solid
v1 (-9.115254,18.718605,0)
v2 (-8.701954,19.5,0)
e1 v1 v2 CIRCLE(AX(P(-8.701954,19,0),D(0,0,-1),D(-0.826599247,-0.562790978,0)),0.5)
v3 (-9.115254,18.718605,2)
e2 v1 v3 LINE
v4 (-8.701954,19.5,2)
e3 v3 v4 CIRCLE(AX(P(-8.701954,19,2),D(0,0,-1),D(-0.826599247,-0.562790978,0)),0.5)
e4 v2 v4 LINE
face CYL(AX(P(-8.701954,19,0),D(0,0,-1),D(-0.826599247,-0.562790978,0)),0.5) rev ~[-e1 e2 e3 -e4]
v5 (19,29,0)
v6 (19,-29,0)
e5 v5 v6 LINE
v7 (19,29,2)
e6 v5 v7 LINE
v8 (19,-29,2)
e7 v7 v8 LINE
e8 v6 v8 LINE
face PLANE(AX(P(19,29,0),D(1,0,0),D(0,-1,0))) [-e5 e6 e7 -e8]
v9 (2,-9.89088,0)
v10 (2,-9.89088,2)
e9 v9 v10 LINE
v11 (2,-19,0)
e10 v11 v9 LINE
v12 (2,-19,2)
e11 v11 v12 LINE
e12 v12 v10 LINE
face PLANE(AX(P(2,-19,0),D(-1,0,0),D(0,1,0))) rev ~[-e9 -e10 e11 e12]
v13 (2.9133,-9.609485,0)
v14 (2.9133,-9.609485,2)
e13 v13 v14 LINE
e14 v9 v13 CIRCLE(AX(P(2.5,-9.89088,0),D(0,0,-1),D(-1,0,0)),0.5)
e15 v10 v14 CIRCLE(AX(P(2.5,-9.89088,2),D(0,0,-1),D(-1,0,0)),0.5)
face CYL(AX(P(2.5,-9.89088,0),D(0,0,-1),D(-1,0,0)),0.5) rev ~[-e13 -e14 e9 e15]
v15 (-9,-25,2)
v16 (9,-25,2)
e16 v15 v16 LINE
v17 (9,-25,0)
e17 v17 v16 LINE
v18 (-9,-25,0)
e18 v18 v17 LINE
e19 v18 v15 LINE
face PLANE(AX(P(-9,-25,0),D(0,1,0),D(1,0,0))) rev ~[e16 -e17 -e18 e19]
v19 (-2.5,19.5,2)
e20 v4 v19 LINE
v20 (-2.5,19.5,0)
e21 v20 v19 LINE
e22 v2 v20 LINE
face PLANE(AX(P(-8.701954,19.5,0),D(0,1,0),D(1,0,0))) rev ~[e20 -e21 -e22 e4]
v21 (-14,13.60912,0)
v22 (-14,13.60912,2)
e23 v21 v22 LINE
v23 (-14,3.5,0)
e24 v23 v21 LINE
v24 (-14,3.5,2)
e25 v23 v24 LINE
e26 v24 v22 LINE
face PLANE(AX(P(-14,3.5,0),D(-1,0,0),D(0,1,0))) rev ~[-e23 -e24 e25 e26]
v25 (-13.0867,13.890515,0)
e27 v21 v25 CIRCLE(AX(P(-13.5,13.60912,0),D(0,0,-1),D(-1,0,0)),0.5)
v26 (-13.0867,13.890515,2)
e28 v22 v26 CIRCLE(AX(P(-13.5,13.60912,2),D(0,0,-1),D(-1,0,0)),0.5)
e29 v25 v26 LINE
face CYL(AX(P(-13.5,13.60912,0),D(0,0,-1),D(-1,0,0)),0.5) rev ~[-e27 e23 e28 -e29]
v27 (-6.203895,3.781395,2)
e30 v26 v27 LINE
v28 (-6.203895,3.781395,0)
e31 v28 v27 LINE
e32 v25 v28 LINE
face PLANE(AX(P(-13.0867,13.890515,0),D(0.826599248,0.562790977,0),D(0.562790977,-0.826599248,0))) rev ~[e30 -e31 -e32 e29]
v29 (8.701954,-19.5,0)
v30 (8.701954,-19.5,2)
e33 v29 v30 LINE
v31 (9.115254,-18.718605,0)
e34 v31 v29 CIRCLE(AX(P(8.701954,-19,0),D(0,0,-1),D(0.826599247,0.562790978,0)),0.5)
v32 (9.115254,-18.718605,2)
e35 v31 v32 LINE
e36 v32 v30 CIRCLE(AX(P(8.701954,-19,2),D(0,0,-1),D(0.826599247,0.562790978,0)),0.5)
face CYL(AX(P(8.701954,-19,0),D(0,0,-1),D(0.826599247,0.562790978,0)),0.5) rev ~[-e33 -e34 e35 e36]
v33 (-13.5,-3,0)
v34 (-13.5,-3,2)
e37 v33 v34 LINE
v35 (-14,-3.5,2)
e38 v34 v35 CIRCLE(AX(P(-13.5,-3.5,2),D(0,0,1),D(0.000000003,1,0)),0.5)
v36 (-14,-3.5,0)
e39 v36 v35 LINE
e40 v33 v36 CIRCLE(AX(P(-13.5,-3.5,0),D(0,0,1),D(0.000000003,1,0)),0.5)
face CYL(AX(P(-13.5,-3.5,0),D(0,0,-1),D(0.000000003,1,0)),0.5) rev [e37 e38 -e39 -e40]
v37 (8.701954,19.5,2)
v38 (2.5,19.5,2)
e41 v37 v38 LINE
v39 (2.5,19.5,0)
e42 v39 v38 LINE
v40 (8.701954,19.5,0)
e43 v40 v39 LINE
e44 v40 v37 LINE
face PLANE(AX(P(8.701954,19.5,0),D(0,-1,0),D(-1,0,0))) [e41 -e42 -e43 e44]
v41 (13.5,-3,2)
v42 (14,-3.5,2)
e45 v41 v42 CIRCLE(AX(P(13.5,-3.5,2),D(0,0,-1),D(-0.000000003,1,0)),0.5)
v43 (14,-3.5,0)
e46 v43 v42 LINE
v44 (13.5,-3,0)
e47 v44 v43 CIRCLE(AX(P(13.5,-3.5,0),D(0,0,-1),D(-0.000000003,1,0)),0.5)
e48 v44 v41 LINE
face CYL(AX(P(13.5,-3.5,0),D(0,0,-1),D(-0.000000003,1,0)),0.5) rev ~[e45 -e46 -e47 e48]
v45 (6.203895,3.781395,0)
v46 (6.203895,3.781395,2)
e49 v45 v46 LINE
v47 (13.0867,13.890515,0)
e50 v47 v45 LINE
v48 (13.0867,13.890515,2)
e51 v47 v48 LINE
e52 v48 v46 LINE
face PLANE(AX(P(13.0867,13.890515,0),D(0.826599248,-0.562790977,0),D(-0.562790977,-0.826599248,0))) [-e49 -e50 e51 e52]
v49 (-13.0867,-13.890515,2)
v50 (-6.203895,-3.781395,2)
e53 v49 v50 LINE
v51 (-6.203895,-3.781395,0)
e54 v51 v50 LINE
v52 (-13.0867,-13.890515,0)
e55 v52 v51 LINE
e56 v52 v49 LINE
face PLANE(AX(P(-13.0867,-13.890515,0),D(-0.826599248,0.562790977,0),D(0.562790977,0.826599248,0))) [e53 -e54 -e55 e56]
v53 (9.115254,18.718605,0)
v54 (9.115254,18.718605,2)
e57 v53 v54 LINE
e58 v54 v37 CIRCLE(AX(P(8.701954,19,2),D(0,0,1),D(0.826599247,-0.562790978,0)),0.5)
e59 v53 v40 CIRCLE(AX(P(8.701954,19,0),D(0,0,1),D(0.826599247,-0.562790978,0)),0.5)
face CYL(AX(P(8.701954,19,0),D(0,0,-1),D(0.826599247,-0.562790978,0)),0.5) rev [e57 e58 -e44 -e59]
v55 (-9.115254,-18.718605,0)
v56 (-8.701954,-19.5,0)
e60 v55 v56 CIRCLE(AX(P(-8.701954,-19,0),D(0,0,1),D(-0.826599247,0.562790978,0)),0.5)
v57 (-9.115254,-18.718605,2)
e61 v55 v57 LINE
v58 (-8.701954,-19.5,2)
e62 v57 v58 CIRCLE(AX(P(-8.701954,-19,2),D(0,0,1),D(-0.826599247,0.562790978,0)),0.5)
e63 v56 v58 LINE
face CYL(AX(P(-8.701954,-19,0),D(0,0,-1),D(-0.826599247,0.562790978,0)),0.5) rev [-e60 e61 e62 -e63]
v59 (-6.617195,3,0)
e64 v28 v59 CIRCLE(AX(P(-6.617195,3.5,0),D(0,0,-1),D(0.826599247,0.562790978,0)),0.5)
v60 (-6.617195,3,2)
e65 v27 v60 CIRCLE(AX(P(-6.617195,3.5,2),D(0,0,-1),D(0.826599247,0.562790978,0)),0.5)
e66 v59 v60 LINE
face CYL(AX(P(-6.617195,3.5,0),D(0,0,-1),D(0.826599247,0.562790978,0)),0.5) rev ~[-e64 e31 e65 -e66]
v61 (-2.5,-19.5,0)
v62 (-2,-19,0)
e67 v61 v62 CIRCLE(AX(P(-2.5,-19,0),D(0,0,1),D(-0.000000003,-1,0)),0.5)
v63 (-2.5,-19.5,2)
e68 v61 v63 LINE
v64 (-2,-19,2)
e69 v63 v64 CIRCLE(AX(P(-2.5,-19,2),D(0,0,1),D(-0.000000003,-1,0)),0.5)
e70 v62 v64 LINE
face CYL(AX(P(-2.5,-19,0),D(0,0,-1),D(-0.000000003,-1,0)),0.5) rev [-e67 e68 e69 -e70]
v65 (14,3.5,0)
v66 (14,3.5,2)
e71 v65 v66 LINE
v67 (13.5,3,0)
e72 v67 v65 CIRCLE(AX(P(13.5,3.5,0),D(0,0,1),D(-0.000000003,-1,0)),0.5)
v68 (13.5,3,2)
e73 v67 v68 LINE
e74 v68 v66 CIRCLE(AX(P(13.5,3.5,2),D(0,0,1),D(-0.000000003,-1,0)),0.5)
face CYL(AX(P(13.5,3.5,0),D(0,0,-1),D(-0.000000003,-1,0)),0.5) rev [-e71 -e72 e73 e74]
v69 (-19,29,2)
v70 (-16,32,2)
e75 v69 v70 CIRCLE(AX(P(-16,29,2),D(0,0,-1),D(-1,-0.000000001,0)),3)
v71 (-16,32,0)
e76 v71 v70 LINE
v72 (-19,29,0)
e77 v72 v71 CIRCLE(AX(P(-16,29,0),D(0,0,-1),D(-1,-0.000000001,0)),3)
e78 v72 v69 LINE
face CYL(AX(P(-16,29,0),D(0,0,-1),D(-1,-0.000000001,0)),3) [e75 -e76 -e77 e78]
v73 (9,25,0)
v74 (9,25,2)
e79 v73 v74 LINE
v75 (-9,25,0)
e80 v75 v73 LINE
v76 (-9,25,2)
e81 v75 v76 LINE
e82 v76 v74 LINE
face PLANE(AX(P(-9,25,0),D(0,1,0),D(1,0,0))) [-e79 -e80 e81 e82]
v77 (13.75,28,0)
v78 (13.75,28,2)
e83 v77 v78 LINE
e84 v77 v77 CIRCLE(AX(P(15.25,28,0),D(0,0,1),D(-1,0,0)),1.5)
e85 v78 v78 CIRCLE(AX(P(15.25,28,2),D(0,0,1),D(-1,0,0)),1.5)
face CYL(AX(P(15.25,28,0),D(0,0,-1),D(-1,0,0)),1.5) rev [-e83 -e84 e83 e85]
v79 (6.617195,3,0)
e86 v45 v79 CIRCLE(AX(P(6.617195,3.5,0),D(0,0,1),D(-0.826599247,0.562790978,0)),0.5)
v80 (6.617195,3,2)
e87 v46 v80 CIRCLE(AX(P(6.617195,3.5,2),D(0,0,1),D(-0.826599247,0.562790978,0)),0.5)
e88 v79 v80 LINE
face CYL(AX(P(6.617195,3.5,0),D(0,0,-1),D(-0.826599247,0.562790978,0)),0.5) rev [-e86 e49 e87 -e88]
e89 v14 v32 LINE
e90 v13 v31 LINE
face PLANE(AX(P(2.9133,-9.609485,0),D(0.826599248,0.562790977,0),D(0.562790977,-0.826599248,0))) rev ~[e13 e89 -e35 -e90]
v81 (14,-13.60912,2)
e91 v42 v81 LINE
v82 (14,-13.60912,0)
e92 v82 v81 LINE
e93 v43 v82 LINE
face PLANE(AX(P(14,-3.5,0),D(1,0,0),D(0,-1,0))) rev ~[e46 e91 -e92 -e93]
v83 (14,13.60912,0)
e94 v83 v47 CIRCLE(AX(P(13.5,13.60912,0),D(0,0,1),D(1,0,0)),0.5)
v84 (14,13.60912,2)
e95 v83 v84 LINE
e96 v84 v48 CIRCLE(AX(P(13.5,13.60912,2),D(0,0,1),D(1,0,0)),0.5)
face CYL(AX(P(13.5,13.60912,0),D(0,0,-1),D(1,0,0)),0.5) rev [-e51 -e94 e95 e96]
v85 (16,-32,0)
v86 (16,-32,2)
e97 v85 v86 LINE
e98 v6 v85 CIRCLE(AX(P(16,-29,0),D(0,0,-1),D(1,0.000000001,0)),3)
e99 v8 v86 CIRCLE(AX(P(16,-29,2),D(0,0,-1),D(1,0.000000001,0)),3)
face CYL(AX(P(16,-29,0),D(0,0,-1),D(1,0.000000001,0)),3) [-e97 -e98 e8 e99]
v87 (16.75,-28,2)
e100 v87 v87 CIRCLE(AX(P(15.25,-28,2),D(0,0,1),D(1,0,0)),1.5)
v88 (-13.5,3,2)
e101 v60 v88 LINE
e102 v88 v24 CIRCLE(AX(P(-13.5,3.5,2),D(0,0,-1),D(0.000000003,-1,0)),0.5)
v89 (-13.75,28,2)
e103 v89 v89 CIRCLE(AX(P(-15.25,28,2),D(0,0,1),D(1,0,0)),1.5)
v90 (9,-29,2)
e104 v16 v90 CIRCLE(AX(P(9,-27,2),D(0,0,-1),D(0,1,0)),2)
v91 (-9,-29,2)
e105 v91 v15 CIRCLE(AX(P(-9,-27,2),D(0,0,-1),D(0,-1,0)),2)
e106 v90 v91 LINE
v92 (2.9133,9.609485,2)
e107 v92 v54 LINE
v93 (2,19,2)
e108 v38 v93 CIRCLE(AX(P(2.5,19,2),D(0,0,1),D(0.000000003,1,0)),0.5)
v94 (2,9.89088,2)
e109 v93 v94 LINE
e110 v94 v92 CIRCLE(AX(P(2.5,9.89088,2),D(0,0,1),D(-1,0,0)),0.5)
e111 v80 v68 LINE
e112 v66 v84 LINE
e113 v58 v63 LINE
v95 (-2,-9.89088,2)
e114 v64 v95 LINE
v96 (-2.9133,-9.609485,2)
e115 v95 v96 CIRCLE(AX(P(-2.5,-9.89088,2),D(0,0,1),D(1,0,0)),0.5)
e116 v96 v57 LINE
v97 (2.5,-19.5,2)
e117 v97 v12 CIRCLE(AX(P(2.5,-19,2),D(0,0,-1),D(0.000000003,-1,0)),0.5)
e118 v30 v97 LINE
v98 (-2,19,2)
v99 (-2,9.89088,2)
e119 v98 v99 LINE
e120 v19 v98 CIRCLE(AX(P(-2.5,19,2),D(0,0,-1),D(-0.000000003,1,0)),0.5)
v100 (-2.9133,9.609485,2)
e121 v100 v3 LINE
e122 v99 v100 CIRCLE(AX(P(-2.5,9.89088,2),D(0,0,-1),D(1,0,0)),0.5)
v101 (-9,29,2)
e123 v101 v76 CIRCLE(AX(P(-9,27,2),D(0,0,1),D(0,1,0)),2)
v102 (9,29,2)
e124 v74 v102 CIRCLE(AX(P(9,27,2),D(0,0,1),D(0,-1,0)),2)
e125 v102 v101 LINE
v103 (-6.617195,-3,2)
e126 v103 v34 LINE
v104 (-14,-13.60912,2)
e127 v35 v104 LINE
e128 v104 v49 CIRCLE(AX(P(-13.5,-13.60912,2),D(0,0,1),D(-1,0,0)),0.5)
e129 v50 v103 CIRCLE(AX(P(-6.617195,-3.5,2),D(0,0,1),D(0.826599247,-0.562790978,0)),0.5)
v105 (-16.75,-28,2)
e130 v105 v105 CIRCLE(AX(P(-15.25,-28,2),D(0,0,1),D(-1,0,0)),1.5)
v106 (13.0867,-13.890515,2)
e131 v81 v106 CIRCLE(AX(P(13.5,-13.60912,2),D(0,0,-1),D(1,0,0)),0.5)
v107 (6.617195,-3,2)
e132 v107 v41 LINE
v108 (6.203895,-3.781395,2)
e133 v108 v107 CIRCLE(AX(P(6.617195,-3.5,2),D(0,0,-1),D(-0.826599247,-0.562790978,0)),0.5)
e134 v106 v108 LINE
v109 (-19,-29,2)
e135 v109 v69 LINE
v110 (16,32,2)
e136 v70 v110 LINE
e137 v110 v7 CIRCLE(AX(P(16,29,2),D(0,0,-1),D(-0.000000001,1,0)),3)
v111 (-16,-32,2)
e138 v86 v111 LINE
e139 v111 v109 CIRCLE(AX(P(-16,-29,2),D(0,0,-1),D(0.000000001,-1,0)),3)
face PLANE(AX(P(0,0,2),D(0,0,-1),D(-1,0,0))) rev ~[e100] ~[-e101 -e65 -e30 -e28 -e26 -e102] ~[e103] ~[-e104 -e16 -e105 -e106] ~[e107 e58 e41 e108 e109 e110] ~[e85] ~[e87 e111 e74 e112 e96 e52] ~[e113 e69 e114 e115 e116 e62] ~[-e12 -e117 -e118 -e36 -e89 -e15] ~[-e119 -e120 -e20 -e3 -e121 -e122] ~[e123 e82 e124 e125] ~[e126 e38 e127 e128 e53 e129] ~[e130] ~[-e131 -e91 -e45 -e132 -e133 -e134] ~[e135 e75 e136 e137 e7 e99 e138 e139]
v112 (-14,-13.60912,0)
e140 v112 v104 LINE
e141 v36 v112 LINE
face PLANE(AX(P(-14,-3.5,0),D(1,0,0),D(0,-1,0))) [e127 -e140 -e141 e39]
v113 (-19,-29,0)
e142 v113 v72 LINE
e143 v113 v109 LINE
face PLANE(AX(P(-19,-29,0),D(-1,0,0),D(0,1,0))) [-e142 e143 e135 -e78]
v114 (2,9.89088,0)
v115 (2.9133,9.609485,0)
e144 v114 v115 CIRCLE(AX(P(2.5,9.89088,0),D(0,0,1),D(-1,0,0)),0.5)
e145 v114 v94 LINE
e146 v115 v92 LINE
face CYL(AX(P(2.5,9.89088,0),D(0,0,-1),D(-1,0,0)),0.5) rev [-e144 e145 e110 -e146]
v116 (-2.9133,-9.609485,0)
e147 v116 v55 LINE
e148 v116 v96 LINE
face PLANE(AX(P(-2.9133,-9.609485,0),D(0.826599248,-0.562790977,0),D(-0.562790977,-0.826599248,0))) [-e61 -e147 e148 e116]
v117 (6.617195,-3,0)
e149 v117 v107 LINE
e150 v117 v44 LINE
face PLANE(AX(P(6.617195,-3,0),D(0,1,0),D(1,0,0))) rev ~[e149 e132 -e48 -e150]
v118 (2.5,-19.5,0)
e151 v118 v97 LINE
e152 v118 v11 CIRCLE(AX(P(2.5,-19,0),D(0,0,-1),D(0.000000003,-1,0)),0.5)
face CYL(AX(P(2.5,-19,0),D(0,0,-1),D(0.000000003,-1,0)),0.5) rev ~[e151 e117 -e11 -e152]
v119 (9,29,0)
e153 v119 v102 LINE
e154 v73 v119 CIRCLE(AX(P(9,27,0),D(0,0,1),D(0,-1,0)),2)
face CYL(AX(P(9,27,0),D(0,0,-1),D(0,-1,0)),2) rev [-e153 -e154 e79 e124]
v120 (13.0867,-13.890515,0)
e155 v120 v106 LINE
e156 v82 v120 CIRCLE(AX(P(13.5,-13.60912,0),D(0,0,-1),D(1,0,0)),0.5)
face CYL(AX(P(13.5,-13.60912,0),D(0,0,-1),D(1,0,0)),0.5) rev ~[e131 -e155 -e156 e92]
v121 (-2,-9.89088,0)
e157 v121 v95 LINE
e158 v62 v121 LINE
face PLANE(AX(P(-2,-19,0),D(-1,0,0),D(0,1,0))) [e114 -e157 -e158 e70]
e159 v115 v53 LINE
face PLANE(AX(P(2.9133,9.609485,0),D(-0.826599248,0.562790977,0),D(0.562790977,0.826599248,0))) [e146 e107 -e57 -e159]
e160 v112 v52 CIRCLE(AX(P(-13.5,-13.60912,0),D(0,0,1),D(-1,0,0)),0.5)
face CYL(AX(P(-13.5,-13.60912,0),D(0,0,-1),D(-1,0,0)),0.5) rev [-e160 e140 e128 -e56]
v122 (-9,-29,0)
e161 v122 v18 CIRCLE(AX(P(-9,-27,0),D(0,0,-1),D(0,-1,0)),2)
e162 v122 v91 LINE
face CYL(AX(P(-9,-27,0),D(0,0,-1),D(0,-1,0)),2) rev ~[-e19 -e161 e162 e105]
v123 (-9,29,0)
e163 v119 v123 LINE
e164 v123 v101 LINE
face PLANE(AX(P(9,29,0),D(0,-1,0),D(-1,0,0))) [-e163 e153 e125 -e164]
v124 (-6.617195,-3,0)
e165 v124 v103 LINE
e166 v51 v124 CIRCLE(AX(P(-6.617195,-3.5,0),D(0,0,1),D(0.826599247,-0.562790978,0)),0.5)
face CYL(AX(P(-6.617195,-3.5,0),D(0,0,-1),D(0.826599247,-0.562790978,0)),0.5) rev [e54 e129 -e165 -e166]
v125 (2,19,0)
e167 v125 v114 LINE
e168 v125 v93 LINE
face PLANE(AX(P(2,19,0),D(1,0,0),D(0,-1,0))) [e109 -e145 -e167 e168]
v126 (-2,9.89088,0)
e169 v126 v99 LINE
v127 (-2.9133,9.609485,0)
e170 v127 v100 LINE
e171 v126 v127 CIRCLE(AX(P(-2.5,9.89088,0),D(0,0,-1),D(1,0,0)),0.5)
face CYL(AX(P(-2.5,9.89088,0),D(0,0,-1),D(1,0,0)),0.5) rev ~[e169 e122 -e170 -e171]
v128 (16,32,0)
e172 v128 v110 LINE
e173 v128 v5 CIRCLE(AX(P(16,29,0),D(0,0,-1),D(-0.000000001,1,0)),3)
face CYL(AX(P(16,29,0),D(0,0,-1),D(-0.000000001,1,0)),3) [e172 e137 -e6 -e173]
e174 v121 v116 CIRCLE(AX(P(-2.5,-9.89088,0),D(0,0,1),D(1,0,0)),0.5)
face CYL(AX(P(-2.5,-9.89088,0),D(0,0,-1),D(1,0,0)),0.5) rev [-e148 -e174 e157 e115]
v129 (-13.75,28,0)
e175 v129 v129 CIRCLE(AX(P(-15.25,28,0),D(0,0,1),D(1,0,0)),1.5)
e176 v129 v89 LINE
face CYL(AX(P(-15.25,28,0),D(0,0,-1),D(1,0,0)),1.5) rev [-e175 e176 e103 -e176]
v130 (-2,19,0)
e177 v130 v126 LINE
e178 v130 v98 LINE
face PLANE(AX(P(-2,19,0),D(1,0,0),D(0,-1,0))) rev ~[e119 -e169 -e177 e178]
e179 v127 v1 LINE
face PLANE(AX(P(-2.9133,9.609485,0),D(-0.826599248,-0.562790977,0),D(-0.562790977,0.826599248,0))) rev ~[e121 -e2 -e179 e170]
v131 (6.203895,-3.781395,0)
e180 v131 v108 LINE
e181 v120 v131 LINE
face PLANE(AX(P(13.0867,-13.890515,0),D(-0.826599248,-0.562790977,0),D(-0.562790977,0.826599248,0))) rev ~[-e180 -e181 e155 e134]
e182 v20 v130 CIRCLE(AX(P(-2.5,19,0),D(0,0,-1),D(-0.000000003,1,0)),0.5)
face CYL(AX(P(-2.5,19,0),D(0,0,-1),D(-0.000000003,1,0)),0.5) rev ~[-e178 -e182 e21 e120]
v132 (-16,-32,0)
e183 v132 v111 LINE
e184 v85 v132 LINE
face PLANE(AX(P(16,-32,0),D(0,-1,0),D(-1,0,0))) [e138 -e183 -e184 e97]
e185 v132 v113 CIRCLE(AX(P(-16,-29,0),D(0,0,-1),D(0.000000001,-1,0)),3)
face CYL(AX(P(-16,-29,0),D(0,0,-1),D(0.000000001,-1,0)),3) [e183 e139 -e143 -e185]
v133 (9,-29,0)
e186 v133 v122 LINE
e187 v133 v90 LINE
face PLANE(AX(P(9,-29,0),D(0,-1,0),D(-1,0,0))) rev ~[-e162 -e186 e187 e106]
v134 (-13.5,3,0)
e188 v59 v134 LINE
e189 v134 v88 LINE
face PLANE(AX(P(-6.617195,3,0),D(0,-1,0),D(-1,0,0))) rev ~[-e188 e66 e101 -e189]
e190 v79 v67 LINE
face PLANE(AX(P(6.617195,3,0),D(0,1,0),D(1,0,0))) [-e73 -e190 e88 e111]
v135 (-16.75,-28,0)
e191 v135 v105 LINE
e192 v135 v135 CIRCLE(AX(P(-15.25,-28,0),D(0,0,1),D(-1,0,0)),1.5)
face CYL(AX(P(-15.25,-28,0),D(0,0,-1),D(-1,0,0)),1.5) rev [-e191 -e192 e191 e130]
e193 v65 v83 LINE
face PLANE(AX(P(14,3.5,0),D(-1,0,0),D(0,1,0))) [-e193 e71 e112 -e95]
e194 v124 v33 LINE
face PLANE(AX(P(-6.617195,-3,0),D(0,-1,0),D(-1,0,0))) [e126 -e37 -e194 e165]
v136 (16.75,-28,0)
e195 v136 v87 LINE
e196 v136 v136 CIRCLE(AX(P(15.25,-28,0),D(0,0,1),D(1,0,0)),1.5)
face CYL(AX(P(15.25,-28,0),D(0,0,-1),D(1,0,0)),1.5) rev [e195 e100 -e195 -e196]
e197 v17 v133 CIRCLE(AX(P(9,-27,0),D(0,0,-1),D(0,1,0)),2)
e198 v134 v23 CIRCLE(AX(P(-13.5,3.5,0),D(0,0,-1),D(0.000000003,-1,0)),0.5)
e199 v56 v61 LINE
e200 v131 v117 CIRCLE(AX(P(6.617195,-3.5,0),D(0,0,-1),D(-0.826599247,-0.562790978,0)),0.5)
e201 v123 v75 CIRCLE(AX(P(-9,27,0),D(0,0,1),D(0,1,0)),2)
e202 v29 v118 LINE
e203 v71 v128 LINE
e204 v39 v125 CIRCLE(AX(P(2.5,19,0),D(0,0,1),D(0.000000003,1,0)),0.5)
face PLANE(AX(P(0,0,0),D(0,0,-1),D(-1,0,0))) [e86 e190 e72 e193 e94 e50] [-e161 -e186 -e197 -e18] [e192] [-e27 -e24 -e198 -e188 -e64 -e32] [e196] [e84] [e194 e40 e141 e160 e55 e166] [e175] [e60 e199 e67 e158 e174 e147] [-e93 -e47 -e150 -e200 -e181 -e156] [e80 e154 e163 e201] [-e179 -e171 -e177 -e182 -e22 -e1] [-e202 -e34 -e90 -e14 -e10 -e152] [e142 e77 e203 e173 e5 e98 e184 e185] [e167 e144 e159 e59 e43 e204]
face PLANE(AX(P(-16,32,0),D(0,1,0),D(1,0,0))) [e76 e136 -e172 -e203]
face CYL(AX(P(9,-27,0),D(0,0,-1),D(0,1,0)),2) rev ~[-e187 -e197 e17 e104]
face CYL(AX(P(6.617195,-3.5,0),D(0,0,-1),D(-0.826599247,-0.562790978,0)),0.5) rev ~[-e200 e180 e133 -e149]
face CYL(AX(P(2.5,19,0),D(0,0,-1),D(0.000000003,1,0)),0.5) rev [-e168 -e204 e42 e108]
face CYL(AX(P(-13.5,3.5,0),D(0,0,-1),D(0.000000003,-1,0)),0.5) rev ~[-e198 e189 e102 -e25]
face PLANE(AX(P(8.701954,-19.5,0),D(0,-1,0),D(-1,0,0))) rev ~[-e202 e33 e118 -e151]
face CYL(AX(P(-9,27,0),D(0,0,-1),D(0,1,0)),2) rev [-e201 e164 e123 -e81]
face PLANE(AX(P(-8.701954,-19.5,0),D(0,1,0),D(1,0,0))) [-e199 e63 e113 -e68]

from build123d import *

# Parameters (mm, degrees)
SKETCH_1_R      = 1.5
EXTRUDE_1_DEPTH = 2


with BuildPart() as part:
    # 草图1 → 凸台-拉伸1 (new body)
    with BuildSketch(Plane.XY):
        with BuildLine():
            Line((-16, 32), (16, 32))
            ThreePointArc((16, 32), (18.121320344, 31.121320344), (19, 29))
            Line((19, 29), (19, -29))
            ThreePointArc((19, -29), (18.121320344, -31.121320344), (16, -32))
            Line((16, -32), (-16, -32))
            ThreePointArc((-16, -32), (-18.121320344, -31.121320344), (-19, -29))
            Line((-19, -29), (-19, 29))
            ThreePointArc((-19, 29), (-18.121320344, 31.121320344), (-16, 32))
        make_face()
        with Locations((-15.25, 28)):
            Circle(SKETCH_1_R, mode=Mode.SUBTRACT)
        with Locations(Location((15.25, 28, 0), (0, 0, 180))):
            Circle(SKETCH_1_R, mode=Mode.SUBTRACT)
        with Locations((15.25, -28)):
            Circle(SKETCH_1_R, mode=Mode.SUBTRACT)
        with Locations(Location((-15.25, -28, 0), (0, 0, 180))):
            Circle(SKETCH_1_R, mode=Mode.SUBTRACT)
        with BuildLine():
            Line((-9, -25), (9, -25))
            ThreePointArc((9, -25), (11, -27), (9, -29))
            Line((9, -29), (-9, -29))
            ThreePointArc((-9, -29), (-11, -27), (-9, -25))
        make_face(mode=Mode.SUBTRACT)
        with BuildLine():
            Line((-9, 25), (9, 25))
            ThreePointArc((9, 25), (11, 27), (9, 29))
            Line((9, 29), (-9, 29))
            ThreePointArc((-9, 29), (-11, 27), (-9, 25))
        make_face(mode=Mode.SUBTRACT)
        with BuildLine():
            Line((-6.617195014, 3), (-13.5, 3))
            ThreePointArc((-13.5, 3), (-13.853553391, 3.146446609), (-14, 3.5))
            Line((-14, 3.5), (-14, 13.609119823))
            ThreePointArc((-14, 13.609119823), (-13.647224638, 14.086953378), (-13.086700376, 13.890515312))
            Line((-13.086700376, 13.890515312), (-6.20389539, 3.781395489))
            ThreePointArc((-6.20389539, 3.781395489), (-6.175212127, 3.266224193), (-6.617195014, 3))
        make_face(mode=Mode.SUBTRACT)
        with BuildLine():
            Line((14, 3.5), (14, 13.609119823))
            ThreePointArc((14, 13.609119823), (13.647224638, 14.086953378), (13.086700376, 13.890515312))
            Line((13.086700376, 13.890515312), (6.20389539, 3.781395489))
            ThreePointArc((6.20389539, 3.781395489), (6.175212127, 3.266224193), (6.617195014, 3))
            Line((6.617195014, 3), (13.5, 3))
            ThreePointArc((13.5, 3), (13.853553391, 3.146446609), (14, 3.5))
        make_face(mode=Mode.SUBTRACT)
        with BuildLine():
            Line((6.617195014, -3), (13.5, -3))
            ThreePointArc((13.5, -3), (13.853553391, -3.146446609), (14, -3.5))
            Line((14, -3.5), (14, -13.609119823))
            ThreePointArc((14, -13.609119823), (13.647224638, -14.086953378), (13.086700376, -13.890515312))
            Line((13.086700376, -13.890515312), (6.20389539, -3.781395489))
            ThreePointArc((6.20389539, -3.781395489), (6.175212127, -3.266224193), (6.617195014, -3))
        make_face(mode=Mode.SUBTRACT)
        with BuildLine():
            Line((-14, -3.5), (-14, -13.609119823))
            ThreePointArc((-14, -13.609119823), (-13.647224638, -14.086953378), (-13.086700376, -13.890515312))
            Line((-13.086700376, -13.890515312), (-6.20389539, -3.781395489))
            ThreePointArc((-6.20389539, -3.781395489), (-6.175212127, -3.266224193), (-6.617195014, -3))
            Line((-6.617195014, -3), (-13.5, -3))
            ThreePointArc((-13.5, -3), (-13.853553391, -3.146446609), (-14, -3.5))
        make_face(mode=Mode.SUBTRACT)
        with BuildLine():
            Line((-8.701953922, 19.5), (-2.5, 19.5))
            ThreePointArc((-2.5, 19.5), (-2.146446609, 19.353553391), (-2, 19))
            Line((-2, 19), (-2, 9.890880177))
            ThreePointArc((-2, 9.890880177), (-2.352775362, 9.413046622), (-2.913299624, 9.609484688))
            Line((-2.913299624, 9.609484688), (-9.115253546, 18.718604511))
            ThreePointArc((-9.115253546, 18.718604511), (-9.143936809, 19.233775807), (-8.701953922, 19.5))
        make_face(mode=Mode.SUBTRACT)
        with BuildLine():
            Line((2, 19), (2, 9.890880177))
            ThreePointArc((2, 9.890880177), (2.352775362, 9.413046622), (2.913299624, 9.609484688))
            Line((2.913299624, 9.609484688), (9.115253546, 18.718604511))
            ThreePointArc((9.115253546, 18.718604511), (9.143936809, 19.233775807), (8.701953922, 19.5))
            Line((8.701953922, 19.5), (2.5, 19.5))
            ThreePointArc((2.5, 19.5), (2.146446609, 19.353553391), (2, 19))
        make_face(mode=Mode.SUBTRACT)
        with BuildLine():
            Line((8.701953922, -19.5), (2.5, -19.5))
            ThreePointArc((2.5, -19.5), (2.146446609, -19.353553391), (2, -19))
            Line((2, -19), (2, -9.890880177))
            ThreePointArc((2, -9.890880177), (2.352775362, -9.413046622), (2.913299624, -9.609484688))
            Line((2.913299624, -9.609484688), (9.115253546, -18.718604511))
            ThreePointArc((9.115253546, -18.718604511), (9.143936809, -19.233775807), (8.701953922, -19.5))
        make_face(mode=Mode.SUBTRACT)
        with BuildLine():
            Line((-2, -19), (-2, -9.890880177))
            ThreePointArc((-2, -9.890880177), (-2.352775362, -9.413046622), (-2.913299624, -9.609484688))
            Line((-2.913299624, -9.609484688), (-9.115253546, -18.718604511))
            ThreePointArc((-9.115253546, -18.718604511), (-9.143936809, -19.233775807), (-8.701953922, -19.5))
            Line((-8.701953922, -19.5), (-2.5, -19.5))
            ThreePointArc((-2.5, -19.5), (-2.146446609, -19.353553391), (-2, -19))
        make_face(mode=Mode.SUBTRACT)
    extrude(amount=EXTRUDE_1_DEPTH)


solid = part.part
